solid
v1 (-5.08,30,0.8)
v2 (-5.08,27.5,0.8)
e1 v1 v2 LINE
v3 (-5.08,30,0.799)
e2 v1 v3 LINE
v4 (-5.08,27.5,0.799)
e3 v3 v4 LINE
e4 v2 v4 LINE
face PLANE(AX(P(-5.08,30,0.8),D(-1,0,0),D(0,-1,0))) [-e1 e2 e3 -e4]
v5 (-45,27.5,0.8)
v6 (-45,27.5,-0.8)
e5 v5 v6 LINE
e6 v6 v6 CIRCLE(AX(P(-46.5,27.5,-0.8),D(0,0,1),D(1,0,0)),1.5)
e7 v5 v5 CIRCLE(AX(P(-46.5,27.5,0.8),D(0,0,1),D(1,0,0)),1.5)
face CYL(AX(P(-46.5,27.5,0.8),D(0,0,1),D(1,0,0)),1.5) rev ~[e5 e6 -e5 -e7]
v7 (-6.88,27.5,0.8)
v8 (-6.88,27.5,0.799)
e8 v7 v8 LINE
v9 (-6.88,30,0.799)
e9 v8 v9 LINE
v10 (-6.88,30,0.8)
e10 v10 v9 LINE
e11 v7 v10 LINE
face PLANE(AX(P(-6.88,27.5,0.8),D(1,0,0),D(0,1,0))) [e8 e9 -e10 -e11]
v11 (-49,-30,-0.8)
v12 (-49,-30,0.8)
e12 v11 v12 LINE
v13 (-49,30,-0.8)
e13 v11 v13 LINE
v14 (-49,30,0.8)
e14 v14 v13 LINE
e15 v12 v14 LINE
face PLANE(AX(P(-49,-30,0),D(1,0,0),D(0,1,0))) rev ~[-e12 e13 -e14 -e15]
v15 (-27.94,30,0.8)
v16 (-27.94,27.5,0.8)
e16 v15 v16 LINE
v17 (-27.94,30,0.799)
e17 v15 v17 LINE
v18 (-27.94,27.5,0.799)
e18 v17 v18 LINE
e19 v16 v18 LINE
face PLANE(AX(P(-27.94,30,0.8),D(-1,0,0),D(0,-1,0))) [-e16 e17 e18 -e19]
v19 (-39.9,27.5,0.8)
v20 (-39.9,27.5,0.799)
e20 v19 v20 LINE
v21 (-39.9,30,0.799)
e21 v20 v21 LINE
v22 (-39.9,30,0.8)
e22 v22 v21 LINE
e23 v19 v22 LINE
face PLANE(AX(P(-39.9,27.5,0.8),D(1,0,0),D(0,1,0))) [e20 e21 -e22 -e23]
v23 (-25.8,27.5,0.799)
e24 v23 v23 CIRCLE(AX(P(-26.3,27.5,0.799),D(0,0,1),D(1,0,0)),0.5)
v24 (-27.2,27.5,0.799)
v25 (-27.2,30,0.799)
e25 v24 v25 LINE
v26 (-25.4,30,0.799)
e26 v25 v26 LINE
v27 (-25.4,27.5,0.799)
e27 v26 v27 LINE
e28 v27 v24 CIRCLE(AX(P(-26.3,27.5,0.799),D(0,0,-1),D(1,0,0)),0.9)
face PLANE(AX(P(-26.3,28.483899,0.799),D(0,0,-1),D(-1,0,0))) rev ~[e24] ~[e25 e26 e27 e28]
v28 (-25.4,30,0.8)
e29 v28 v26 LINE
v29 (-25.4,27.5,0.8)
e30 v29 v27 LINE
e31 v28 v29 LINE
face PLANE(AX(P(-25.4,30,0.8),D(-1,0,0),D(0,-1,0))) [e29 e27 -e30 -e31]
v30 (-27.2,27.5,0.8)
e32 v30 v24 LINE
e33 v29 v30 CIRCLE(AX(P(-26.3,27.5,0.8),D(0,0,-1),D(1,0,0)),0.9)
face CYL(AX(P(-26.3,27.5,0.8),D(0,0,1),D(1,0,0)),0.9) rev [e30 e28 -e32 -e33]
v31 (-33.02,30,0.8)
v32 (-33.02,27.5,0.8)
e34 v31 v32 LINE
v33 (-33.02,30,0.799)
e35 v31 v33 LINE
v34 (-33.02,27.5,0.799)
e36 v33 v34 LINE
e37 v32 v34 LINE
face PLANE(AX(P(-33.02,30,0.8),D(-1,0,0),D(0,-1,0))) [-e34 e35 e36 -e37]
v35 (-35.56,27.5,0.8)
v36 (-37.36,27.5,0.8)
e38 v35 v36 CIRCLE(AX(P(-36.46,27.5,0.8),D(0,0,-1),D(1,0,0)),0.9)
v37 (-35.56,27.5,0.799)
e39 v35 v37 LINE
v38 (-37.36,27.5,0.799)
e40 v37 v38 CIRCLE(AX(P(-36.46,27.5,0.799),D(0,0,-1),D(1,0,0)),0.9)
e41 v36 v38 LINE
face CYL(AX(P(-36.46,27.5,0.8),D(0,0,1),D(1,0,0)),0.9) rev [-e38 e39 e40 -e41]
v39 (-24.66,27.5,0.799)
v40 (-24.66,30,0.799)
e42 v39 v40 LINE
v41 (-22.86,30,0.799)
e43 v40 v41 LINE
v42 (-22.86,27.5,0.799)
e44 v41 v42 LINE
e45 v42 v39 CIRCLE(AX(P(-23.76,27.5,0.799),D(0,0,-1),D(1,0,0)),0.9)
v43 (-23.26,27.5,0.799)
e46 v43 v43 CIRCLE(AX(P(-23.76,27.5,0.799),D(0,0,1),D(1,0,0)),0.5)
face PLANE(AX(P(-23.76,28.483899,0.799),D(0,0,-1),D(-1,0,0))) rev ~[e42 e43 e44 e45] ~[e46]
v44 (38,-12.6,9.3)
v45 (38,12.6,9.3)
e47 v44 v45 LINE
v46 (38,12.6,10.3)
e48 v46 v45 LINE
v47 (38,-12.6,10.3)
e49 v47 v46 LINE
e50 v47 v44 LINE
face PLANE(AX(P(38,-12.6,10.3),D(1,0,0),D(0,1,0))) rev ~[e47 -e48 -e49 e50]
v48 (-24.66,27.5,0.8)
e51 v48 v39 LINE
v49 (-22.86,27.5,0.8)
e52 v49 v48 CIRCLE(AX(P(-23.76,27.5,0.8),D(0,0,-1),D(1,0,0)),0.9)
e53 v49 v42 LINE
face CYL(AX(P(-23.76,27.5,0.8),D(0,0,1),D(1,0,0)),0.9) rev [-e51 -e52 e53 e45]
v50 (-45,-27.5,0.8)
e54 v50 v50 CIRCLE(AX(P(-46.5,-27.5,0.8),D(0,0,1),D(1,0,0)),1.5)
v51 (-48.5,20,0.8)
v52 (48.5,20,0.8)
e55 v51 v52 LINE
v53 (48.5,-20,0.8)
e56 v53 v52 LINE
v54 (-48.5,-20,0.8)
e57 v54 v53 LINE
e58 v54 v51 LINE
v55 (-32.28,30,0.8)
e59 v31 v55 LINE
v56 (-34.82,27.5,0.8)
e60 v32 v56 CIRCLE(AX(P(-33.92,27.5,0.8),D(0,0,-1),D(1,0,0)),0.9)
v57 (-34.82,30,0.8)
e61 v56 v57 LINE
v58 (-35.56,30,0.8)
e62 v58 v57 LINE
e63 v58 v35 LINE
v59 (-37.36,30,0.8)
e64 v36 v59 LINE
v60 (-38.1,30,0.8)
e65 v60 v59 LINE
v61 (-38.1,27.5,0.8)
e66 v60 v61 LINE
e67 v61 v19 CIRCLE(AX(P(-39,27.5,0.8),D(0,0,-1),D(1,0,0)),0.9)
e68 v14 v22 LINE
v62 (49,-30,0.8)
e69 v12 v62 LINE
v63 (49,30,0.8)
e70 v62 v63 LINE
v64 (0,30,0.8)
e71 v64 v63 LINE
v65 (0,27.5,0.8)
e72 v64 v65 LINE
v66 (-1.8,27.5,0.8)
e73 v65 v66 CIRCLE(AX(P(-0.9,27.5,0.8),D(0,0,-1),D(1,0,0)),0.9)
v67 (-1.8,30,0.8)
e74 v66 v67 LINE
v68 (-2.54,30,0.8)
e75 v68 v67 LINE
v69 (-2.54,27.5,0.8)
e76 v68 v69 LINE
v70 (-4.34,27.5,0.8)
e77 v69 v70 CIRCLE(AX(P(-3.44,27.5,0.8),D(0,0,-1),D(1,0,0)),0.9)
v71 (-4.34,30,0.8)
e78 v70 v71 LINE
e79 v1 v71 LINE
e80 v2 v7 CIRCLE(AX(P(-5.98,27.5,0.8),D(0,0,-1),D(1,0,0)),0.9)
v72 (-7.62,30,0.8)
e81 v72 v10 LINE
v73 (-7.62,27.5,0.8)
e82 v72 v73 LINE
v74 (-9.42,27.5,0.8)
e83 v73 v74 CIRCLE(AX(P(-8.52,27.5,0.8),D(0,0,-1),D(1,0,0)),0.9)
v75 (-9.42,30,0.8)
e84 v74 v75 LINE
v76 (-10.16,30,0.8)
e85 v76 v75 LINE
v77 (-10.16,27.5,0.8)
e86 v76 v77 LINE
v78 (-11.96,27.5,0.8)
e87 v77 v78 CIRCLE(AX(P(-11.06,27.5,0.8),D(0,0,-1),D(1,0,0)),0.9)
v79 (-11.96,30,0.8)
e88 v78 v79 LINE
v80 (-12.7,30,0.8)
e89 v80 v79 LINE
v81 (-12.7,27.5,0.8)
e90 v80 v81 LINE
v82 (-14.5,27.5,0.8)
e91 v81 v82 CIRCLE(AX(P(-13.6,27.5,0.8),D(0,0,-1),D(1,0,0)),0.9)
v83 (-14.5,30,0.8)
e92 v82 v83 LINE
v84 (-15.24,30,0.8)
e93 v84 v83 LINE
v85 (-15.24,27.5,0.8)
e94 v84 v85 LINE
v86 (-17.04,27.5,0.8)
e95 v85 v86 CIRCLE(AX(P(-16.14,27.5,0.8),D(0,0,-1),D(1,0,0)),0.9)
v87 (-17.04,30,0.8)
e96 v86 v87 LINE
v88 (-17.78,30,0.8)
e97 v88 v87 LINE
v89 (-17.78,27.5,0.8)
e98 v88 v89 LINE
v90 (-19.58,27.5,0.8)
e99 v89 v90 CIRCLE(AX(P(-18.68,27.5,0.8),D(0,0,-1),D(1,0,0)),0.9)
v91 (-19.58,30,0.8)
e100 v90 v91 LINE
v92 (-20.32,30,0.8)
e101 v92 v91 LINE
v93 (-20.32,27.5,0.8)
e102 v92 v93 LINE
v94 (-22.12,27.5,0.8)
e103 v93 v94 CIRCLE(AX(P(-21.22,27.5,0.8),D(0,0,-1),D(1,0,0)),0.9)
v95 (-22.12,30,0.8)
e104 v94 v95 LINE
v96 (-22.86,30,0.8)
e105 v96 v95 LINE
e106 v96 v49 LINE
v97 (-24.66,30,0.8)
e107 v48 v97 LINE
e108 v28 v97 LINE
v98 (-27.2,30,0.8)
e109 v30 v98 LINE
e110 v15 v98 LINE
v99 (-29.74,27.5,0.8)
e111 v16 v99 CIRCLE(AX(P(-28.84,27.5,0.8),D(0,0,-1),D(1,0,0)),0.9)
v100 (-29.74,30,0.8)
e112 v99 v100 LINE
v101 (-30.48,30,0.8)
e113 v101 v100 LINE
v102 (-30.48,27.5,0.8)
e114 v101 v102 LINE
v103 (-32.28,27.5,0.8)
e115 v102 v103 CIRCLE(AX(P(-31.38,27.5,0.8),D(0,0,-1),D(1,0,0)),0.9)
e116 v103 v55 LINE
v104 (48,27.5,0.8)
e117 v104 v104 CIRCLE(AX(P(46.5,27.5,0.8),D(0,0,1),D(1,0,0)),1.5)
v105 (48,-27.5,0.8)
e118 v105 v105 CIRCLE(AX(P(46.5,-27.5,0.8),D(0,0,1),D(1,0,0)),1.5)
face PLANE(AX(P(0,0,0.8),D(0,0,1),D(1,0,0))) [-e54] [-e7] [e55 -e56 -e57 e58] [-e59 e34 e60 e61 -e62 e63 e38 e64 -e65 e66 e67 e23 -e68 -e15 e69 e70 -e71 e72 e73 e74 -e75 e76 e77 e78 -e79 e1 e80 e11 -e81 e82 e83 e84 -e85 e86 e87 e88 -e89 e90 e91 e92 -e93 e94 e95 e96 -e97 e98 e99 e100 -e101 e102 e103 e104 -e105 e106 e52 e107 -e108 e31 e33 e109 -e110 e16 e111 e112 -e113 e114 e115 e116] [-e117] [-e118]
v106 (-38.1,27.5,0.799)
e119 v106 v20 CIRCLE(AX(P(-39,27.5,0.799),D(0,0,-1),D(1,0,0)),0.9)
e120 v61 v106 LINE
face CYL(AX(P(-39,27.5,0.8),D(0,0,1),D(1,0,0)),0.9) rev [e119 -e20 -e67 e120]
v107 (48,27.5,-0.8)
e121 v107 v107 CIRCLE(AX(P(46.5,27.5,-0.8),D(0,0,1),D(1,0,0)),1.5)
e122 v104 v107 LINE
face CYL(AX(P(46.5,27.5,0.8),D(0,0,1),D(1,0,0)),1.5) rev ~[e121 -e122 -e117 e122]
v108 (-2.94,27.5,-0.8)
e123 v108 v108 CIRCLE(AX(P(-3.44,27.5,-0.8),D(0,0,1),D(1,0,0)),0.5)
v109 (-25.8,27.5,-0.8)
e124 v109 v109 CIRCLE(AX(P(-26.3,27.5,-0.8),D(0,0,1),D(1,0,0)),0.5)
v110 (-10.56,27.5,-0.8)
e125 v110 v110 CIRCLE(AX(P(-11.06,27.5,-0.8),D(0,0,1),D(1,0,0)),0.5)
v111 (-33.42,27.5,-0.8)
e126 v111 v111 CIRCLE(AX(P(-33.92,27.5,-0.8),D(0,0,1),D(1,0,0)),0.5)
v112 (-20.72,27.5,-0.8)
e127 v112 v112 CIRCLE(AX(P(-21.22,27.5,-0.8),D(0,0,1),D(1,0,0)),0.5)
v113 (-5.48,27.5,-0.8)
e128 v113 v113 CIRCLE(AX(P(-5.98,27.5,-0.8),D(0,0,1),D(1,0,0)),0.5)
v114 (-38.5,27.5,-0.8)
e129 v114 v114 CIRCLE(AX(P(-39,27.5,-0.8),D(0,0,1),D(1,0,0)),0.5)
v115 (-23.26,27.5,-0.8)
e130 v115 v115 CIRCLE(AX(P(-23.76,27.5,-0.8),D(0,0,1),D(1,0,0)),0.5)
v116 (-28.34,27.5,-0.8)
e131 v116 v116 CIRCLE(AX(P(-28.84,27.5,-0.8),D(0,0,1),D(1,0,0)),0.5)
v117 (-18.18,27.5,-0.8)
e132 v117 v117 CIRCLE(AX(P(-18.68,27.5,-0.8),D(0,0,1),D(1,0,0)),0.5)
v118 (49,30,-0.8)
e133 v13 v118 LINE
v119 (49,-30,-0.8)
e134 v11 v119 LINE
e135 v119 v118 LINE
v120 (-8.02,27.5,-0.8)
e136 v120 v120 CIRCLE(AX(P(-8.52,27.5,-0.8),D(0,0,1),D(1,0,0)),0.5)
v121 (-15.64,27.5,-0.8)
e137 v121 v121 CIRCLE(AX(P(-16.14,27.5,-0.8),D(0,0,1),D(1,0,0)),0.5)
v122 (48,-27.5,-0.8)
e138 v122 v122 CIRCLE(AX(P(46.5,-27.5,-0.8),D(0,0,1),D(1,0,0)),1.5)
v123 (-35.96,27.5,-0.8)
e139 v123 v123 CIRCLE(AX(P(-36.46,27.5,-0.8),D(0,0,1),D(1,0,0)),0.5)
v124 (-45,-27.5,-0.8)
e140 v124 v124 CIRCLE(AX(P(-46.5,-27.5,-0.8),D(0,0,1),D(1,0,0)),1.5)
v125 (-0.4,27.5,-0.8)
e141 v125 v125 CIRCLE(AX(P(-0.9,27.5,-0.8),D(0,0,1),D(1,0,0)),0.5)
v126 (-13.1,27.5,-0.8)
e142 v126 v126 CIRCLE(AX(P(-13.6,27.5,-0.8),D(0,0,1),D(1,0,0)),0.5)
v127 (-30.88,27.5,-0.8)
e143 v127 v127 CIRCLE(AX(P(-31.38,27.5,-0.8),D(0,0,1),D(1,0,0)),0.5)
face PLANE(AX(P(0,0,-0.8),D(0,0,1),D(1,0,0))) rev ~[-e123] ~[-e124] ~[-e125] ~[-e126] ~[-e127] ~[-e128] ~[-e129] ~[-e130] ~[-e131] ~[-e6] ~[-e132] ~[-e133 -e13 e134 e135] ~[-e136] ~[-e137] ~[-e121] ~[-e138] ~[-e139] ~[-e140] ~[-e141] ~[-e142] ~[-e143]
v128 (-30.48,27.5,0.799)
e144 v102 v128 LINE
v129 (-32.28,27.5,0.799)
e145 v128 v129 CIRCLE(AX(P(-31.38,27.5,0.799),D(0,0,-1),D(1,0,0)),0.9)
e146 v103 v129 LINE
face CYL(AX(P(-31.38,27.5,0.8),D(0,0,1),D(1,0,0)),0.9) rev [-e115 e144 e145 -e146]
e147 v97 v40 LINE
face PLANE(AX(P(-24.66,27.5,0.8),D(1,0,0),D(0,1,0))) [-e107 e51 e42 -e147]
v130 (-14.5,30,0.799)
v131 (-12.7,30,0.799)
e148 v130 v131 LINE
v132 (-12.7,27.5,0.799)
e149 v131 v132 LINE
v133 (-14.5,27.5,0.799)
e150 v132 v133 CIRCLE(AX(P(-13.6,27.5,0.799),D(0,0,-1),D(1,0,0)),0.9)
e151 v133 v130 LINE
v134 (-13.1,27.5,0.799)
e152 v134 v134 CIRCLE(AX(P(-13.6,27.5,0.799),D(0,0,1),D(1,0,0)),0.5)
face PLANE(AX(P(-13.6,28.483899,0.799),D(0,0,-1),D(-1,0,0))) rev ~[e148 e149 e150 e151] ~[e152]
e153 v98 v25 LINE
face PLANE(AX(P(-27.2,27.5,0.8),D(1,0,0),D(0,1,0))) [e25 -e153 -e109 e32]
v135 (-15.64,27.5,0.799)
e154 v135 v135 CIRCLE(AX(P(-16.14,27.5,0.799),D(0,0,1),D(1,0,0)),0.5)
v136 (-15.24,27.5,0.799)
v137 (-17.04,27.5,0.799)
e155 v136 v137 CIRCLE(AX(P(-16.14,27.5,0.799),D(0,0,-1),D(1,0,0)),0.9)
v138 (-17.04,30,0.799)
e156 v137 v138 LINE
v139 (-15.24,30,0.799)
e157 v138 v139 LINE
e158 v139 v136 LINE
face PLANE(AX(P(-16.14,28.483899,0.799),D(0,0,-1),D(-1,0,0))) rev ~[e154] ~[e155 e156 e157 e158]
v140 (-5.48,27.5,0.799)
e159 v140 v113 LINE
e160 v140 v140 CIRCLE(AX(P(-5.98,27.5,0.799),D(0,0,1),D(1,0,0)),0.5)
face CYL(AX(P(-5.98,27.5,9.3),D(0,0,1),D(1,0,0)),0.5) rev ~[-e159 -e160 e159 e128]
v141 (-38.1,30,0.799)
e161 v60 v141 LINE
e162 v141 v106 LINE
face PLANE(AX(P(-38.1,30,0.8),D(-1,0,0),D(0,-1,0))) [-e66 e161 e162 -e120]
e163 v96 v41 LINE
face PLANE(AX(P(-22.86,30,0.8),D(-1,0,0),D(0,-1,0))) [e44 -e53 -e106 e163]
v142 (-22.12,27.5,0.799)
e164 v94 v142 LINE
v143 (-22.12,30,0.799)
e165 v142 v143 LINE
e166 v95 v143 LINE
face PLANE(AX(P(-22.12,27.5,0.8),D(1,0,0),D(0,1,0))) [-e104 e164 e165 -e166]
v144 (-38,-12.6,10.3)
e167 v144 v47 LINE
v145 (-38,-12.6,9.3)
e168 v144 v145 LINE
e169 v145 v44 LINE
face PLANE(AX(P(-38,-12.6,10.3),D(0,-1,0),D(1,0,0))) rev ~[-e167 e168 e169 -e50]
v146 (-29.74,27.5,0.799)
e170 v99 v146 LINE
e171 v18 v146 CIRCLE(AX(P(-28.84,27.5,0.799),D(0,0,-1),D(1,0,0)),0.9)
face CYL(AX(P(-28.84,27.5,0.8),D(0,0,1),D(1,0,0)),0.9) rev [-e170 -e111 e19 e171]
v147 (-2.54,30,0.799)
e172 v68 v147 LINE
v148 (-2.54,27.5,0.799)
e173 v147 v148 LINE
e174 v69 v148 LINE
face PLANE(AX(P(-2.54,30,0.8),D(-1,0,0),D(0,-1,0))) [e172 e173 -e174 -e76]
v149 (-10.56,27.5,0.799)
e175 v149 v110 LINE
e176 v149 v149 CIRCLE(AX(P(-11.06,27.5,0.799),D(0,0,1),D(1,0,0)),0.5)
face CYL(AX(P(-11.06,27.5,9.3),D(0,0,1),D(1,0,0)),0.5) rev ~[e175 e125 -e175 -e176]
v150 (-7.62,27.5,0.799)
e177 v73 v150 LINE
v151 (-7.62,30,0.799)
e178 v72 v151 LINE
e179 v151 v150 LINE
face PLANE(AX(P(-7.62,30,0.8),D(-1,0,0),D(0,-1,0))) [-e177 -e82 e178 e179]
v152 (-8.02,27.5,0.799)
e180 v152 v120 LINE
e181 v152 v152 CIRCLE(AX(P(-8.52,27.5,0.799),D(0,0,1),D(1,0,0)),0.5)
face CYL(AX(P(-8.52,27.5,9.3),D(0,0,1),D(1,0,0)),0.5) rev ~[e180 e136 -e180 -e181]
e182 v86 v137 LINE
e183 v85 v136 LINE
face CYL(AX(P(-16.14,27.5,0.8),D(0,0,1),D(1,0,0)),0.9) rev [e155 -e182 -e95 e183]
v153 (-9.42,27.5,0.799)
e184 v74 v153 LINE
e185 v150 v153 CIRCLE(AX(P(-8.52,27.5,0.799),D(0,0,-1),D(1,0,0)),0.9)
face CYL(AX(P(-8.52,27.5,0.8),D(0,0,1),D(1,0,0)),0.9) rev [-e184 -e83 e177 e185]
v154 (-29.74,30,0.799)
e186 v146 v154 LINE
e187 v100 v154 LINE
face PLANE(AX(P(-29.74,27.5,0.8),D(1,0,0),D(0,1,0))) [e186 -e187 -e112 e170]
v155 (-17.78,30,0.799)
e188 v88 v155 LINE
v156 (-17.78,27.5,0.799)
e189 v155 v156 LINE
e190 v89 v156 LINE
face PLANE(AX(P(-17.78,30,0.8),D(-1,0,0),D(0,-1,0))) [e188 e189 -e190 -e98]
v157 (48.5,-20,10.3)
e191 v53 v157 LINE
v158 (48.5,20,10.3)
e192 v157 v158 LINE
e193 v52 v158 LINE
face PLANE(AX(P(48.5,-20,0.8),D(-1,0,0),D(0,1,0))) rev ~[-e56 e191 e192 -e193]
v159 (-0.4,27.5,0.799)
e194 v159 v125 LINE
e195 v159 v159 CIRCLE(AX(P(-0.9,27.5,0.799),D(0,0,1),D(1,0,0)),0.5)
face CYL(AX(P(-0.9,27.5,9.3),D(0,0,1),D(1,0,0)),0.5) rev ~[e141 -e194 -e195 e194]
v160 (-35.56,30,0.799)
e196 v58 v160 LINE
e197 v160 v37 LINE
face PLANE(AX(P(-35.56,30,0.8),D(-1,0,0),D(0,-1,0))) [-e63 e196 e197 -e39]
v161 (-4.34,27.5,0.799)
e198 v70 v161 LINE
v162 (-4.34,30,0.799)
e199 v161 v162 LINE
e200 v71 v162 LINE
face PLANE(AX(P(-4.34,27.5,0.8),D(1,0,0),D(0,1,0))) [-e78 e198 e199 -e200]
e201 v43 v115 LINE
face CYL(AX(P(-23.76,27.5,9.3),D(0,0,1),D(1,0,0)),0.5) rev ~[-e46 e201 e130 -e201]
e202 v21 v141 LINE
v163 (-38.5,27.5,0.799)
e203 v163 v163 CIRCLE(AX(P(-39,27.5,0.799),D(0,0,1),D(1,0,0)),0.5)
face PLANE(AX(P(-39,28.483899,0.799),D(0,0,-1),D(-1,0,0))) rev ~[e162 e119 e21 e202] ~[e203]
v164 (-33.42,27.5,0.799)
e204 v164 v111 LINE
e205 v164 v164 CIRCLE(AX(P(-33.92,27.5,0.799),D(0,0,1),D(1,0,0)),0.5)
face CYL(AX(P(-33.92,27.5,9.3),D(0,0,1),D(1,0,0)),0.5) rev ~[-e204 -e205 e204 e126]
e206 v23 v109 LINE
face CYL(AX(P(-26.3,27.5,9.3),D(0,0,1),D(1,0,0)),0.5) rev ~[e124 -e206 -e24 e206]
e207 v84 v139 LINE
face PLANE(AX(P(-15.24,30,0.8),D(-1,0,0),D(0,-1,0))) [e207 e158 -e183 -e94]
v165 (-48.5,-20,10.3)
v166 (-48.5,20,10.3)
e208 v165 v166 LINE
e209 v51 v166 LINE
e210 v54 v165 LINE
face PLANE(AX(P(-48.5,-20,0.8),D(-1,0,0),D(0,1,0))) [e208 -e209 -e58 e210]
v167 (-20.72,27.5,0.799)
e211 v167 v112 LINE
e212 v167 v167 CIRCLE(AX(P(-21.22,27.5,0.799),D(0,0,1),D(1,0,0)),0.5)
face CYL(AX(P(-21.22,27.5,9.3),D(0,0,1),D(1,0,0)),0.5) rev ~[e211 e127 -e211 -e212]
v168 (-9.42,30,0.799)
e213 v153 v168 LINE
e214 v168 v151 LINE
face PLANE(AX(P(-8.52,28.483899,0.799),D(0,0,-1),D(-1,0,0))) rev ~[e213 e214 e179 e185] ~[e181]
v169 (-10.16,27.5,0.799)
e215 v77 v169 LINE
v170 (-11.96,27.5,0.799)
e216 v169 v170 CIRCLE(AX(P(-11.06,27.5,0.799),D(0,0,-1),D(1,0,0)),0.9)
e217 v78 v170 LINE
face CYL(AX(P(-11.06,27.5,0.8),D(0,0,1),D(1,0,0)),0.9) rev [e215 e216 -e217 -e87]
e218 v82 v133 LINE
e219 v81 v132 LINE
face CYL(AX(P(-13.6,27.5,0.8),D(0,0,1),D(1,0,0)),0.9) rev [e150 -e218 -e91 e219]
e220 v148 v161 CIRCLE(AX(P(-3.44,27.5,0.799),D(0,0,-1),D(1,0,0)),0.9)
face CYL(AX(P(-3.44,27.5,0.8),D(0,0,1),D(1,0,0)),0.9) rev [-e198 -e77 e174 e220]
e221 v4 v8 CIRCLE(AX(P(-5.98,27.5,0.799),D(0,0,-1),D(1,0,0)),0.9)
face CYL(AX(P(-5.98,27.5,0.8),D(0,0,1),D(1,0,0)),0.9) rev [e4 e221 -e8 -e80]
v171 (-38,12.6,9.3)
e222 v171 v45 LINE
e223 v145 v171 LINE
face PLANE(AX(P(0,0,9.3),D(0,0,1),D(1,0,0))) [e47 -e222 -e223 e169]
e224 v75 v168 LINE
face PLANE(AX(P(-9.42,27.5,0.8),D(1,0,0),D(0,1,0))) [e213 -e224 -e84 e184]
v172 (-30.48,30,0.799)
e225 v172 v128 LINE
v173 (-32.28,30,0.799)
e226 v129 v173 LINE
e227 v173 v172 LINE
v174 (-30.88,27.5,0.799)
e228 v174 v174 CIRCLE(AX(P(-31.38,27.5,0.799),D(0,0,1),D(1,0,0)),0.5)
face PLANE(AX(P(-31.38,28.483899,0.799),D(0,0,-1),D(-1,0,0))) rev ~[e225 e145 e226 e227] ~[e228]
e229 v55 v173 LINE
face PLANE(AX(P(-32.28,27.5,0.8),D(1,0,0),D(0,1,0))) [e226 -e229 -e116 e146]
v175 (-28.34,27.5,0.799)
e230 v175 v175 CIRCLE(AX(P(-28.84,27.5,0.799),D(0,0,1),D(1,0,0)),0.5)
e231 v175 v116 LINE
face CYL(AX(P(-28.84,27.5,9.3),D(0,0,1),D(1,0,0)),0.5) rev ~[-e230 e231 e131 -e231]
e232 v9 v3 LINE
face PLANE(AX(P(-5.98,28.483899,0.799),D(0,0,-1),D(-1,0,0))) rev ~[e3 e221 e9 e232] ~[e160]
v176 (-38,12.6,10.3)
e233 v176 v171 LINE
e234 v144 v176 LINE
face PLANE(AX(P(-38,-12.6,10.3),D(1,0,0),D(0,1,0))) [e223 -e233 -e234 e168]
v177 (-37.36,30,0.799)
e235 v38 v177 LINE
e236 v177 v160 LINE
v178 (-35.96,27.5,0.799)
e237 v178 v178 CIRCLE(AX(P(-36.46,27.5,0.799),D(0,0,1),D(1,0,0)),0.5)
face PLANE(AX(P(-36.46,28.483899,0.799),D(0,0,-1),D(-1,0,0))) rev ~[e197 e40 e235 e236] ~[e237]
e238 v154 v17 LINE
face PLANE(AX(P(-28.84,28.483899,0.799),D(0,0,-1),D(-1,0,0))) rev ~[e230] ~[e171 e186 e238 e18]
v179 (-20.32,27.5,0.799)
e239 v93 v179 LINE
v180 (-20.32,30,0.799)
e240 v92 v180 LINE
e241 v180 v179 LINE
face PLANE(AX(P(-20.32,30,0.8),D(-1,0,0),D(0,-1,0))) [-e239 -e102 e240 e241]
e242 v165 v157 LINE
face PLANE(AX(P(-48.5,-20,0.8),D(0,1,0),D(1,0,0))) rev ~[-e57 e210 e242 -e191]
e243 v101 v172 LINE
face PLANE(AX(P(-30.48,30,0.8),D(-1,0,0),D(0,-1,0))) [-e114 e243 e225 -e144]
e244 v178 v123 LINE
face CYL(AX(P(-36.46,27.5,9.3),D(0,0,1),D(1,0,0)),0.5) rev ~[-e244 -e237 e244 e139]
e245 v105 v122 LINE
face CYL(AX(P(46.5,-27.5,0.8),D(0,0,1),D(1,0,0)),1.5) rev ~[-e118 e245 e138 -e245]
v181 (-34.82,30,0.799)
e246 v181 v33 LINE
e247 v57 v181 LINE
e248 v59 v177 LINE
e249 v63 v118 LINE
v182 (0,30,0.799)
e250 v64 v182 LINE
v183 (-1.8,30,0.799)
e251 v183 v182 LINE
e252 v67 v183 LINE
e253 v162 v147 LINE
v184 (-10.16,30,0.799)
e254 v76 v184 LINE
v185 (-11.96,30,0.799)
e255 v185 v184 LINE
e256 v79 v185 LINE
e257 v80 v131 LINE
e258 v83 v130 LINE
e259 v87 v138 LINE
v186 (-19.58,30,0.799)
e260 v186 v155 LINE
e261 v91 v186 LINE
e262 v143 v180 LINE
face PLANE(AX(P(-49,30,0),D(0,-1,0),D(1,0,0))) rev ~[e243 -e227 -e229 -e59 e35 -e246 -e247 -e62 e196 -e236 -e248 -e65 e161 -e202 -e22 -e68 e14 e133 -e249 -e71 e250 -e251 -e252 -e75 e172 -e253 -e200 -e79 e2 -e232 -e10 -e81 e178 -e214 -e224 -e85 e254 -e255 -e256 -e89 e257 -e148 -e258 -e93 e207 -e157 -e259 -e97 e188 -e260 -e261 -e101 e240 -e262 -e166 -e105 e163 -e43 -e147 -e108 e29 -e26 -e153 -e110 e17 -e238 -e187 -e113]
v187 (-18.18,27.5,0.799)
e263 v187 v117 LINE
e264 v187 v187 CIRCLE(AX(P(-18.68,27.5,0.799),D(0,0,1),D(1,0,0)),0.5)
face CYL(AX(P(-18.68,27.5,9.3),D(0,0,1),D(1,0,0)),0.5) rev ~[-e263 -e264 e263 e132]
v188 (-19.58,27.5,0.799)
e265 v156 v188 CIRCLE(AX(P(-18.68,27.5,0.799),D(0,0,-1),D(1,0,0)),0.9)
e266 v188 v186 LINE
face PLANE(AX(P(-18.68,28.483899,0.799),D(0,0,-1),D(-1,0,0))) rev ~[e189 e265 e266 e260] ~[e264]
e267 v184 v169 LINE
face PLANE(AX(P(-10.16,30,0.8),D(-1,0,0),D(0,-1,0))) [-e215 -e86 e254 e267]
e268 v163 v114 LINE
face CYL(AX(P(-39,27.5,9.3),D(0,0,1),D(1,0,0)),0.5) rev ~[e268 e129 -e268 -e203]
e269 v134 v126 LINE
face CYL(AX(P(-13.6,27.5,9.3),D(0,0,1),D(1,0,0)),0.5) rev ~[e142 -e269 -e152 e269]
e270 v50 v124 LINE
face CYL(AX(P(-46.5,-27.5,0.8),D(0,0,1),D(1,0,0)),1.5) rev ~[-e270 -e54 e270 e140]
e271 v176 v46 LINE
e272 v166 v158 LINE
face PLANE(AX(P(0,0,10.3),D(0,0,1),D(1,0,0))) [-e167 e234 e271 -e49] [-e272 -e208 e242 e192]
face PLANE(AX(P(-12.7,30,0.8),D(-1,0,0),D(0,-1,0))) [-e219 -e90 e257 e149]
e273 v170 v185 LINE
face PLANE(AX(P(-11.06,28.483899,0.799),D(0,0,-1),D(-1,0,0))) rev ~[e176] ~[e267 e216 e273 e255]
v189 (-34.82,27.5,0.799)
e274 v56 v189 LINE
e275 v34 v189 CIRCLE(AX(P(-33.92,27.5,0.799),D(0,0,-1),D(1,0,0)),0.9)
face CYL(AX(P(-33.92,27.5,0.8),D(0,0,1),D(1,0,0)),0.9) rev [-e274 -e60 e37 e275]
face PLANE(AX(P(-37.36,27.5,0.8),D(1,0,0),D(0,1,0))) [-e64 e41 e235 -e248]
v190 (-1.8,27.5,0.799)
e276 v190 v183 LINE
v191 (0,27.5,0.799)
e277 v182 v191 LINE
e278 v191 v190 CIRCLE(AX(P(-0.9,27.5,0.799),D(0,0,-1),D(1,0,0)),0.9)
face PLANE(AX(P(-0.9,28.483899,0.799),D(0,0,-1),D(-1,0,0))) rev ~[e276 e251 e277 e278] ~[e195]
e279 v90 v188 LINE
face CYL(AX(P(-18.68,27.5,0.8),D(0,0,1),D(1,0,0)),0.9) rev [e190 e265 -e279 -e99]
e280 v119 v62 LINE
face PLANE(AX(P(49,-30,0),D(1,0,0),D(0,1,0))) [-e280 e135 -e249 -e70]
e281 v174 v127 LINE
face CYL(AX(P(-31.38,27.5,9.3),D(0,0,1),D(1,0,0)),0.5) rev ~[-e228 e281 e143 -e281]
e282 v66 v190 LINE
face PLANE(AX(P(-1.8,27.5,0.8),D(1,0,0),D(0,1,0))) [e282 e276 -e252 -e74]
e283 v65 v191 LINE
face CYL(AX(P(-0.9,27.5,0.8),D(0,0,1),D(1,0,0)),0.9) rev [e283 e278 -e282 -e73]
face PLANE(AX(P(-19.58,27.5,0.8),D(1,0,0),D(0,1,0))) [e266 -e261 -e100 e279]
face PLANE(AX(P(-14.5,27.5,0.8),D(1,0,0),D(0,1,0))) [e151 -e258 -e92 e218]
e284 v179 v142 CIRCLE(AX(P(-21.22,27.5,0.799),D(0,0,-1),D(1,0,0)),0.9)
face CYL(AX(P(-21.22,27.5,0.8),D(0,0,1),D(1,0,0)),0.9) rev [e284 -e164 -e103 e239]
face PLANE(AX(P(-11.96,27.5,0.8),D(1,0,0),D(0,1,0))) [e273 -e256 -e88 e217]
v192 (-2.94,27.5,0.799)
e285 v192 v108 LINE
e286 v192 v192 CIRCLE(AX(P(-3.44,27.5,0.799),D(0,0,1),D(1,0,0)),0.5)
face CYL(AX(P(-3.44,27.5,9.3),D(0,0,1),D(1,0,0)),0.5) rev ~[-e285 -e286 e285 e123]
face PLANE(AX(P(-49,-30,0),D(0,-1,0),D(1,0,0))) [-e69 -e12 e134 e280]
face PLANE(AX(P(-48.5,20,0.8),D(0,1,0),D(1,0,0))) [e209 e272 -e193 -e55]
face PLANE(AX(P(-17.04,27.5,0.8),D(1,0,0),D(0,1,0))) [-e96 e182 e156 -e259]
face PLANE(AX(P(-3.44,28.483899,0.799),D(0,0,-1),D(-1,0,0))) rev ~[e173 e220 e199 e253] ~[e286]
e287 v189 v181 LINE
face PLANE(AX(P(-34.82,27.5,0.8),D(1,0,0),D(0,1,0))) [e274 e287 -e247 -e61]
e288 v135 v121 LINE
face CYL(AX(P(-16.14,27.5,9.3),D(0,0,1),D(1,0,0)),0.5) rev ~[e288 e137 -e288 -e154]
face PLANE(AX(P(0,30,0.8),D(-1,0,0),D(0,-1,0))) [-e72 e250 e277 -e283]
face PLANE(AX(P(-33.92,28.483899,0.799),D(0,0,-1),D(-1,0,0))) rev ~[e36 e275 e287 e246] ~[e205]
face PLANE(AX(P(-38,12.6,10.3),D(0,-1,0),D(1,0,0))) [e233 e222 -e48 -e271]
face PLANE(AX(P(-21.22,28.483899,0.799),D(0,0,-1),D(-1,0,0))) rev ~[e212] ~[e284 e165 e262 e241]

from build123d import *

# Parameters (mm, degrees)
CROQUIS1_W              = 98
CROQUIS1_H              = 60
SALIENTE_EXTRUIR1_DEPTH = 0.8
CROQUIS2_R              = 1.5
CORTAR_EXTRUIR1_DEPTH   = 2.6
CROQUIS3_W              = 97
CROQUIS3_H              = 40
SALIENTE_EXTRUIR2_DEPTH = 9.5
CROQUIS4_W              = 76
CROQUIS4_H              = 25.2
CORTAR_EXTRUIR2_DEPTH   = 1
CORTAR_EXTRUIR5_START   = -8.5
CROQUIS5_R              = 0.5
CORTAR_EXTRUIR5_DEPTH   = 0.001
CROQUIS5_2_R            = 0.5
CORTAR_EXTRUIR6_DEPTH   = 11.1
MATRIZL1_COUNT          = 16
MATRIZL1_PITCH          = 2.54


with BuildPart() as part:
    # Croquis1 → Saliente-Extruir1 (new body, symmetric)
    with BuildSketch(Plane.XY):
        Rectangle(CROQUIS1_W, CROQUIS1_H)
    extrude(amount=SALIENTE_EXTRUIR1_DEPTH, both=True)

    # Croquis2 → Cortar-Extruir1 (cut, through all)
    with BuildSketch(Plane.XY.offset(0.8)):
        with Locations((-46.5, 27.5)):
            Circle(CROQUIS2_R)
        with Locations((-46.5, -27.5)):
            Circle(CROQUIS2_R)
        with Locations((46.5, -27.5)):
            Circle(CROQUIS2_R)
        with Locations((46.5, 27.5)):
            Circle(CROQUIS2_R)
    extrude(amount=-CORTAR_EXTRUIR1_DEPTH, mode=Mode.SUBTRACT)

    # Croquis3 → Saliente-Extruir2 (add)
    with BuildSketch(Plane.XY.offset(0.8)):
        Rectangle(CROQUIS3_W, CROQUIS3_H)
    extrude(amount=SALIENTE_EXTRUIR2_DEPTH)

    # Croquis4 → Cortar-Extruir2 (cut)
    with BuildSketch(Plane.XY.offset(10.3)):
        Rectangle(CROQUIS4_W, CROQUIS4_H)
    extrude(amount=-CORTAR_EXTRUIR2_DEPTH, mode=Mode.SUBTRACT)

    # Croquis5 → Cortar-Extruir5 (cut)
    with BuildSketch(Plane.XY.offset(9.3).offset(CORTAR_EXTRUIR5_START)):
        with BuildLine():
            Line((-39.9, 30), (-38.1, 30))
            Line((-38.1, 30), (-38.1, 27.5))
            ThreePointArc((-38.1, 27.5), (-39, 26.6), (-39.9, 27.5))
            Line((-39.9, 27.5), (-39.9, 30))
        make_face()
        with Locations((-39, 27.5)):
            Circle(CROQUIS5_R, mode=Mode.SUBTRACT)
    cortar_extruir5 = extrude(amount=-CORTAR_EXTRUIR5_DEPTH, mode=Mode.SUBTRACT)

    # Croquis5<2> → Cortar-Extruir6 (cut, through all)
    with BuildSketch(Plane.XY.offset(9.3)):
        with Locations((-39, 27.5)):
            Circle(CROQUIS5_2_R)
    cortar_extruir6 = extrude(amount=-CORTAR_EXTRUIR6_DEPTH, mode=Mode.SUBTRACT)

    # MatrizL1: Cortar-Extruir5, Cortar-Extruir6 ×16
    with Locations(*[(i * MATRIZL1_PITCH, 0, 0) for i in range(1, MATRIZL1_COUNT)]):
        add(cortar_extruir5, mode=Mode.SUBTRACT)
        add(cortar_extruir6, mode=Mode.SUBTRACT)


solid = part.part
